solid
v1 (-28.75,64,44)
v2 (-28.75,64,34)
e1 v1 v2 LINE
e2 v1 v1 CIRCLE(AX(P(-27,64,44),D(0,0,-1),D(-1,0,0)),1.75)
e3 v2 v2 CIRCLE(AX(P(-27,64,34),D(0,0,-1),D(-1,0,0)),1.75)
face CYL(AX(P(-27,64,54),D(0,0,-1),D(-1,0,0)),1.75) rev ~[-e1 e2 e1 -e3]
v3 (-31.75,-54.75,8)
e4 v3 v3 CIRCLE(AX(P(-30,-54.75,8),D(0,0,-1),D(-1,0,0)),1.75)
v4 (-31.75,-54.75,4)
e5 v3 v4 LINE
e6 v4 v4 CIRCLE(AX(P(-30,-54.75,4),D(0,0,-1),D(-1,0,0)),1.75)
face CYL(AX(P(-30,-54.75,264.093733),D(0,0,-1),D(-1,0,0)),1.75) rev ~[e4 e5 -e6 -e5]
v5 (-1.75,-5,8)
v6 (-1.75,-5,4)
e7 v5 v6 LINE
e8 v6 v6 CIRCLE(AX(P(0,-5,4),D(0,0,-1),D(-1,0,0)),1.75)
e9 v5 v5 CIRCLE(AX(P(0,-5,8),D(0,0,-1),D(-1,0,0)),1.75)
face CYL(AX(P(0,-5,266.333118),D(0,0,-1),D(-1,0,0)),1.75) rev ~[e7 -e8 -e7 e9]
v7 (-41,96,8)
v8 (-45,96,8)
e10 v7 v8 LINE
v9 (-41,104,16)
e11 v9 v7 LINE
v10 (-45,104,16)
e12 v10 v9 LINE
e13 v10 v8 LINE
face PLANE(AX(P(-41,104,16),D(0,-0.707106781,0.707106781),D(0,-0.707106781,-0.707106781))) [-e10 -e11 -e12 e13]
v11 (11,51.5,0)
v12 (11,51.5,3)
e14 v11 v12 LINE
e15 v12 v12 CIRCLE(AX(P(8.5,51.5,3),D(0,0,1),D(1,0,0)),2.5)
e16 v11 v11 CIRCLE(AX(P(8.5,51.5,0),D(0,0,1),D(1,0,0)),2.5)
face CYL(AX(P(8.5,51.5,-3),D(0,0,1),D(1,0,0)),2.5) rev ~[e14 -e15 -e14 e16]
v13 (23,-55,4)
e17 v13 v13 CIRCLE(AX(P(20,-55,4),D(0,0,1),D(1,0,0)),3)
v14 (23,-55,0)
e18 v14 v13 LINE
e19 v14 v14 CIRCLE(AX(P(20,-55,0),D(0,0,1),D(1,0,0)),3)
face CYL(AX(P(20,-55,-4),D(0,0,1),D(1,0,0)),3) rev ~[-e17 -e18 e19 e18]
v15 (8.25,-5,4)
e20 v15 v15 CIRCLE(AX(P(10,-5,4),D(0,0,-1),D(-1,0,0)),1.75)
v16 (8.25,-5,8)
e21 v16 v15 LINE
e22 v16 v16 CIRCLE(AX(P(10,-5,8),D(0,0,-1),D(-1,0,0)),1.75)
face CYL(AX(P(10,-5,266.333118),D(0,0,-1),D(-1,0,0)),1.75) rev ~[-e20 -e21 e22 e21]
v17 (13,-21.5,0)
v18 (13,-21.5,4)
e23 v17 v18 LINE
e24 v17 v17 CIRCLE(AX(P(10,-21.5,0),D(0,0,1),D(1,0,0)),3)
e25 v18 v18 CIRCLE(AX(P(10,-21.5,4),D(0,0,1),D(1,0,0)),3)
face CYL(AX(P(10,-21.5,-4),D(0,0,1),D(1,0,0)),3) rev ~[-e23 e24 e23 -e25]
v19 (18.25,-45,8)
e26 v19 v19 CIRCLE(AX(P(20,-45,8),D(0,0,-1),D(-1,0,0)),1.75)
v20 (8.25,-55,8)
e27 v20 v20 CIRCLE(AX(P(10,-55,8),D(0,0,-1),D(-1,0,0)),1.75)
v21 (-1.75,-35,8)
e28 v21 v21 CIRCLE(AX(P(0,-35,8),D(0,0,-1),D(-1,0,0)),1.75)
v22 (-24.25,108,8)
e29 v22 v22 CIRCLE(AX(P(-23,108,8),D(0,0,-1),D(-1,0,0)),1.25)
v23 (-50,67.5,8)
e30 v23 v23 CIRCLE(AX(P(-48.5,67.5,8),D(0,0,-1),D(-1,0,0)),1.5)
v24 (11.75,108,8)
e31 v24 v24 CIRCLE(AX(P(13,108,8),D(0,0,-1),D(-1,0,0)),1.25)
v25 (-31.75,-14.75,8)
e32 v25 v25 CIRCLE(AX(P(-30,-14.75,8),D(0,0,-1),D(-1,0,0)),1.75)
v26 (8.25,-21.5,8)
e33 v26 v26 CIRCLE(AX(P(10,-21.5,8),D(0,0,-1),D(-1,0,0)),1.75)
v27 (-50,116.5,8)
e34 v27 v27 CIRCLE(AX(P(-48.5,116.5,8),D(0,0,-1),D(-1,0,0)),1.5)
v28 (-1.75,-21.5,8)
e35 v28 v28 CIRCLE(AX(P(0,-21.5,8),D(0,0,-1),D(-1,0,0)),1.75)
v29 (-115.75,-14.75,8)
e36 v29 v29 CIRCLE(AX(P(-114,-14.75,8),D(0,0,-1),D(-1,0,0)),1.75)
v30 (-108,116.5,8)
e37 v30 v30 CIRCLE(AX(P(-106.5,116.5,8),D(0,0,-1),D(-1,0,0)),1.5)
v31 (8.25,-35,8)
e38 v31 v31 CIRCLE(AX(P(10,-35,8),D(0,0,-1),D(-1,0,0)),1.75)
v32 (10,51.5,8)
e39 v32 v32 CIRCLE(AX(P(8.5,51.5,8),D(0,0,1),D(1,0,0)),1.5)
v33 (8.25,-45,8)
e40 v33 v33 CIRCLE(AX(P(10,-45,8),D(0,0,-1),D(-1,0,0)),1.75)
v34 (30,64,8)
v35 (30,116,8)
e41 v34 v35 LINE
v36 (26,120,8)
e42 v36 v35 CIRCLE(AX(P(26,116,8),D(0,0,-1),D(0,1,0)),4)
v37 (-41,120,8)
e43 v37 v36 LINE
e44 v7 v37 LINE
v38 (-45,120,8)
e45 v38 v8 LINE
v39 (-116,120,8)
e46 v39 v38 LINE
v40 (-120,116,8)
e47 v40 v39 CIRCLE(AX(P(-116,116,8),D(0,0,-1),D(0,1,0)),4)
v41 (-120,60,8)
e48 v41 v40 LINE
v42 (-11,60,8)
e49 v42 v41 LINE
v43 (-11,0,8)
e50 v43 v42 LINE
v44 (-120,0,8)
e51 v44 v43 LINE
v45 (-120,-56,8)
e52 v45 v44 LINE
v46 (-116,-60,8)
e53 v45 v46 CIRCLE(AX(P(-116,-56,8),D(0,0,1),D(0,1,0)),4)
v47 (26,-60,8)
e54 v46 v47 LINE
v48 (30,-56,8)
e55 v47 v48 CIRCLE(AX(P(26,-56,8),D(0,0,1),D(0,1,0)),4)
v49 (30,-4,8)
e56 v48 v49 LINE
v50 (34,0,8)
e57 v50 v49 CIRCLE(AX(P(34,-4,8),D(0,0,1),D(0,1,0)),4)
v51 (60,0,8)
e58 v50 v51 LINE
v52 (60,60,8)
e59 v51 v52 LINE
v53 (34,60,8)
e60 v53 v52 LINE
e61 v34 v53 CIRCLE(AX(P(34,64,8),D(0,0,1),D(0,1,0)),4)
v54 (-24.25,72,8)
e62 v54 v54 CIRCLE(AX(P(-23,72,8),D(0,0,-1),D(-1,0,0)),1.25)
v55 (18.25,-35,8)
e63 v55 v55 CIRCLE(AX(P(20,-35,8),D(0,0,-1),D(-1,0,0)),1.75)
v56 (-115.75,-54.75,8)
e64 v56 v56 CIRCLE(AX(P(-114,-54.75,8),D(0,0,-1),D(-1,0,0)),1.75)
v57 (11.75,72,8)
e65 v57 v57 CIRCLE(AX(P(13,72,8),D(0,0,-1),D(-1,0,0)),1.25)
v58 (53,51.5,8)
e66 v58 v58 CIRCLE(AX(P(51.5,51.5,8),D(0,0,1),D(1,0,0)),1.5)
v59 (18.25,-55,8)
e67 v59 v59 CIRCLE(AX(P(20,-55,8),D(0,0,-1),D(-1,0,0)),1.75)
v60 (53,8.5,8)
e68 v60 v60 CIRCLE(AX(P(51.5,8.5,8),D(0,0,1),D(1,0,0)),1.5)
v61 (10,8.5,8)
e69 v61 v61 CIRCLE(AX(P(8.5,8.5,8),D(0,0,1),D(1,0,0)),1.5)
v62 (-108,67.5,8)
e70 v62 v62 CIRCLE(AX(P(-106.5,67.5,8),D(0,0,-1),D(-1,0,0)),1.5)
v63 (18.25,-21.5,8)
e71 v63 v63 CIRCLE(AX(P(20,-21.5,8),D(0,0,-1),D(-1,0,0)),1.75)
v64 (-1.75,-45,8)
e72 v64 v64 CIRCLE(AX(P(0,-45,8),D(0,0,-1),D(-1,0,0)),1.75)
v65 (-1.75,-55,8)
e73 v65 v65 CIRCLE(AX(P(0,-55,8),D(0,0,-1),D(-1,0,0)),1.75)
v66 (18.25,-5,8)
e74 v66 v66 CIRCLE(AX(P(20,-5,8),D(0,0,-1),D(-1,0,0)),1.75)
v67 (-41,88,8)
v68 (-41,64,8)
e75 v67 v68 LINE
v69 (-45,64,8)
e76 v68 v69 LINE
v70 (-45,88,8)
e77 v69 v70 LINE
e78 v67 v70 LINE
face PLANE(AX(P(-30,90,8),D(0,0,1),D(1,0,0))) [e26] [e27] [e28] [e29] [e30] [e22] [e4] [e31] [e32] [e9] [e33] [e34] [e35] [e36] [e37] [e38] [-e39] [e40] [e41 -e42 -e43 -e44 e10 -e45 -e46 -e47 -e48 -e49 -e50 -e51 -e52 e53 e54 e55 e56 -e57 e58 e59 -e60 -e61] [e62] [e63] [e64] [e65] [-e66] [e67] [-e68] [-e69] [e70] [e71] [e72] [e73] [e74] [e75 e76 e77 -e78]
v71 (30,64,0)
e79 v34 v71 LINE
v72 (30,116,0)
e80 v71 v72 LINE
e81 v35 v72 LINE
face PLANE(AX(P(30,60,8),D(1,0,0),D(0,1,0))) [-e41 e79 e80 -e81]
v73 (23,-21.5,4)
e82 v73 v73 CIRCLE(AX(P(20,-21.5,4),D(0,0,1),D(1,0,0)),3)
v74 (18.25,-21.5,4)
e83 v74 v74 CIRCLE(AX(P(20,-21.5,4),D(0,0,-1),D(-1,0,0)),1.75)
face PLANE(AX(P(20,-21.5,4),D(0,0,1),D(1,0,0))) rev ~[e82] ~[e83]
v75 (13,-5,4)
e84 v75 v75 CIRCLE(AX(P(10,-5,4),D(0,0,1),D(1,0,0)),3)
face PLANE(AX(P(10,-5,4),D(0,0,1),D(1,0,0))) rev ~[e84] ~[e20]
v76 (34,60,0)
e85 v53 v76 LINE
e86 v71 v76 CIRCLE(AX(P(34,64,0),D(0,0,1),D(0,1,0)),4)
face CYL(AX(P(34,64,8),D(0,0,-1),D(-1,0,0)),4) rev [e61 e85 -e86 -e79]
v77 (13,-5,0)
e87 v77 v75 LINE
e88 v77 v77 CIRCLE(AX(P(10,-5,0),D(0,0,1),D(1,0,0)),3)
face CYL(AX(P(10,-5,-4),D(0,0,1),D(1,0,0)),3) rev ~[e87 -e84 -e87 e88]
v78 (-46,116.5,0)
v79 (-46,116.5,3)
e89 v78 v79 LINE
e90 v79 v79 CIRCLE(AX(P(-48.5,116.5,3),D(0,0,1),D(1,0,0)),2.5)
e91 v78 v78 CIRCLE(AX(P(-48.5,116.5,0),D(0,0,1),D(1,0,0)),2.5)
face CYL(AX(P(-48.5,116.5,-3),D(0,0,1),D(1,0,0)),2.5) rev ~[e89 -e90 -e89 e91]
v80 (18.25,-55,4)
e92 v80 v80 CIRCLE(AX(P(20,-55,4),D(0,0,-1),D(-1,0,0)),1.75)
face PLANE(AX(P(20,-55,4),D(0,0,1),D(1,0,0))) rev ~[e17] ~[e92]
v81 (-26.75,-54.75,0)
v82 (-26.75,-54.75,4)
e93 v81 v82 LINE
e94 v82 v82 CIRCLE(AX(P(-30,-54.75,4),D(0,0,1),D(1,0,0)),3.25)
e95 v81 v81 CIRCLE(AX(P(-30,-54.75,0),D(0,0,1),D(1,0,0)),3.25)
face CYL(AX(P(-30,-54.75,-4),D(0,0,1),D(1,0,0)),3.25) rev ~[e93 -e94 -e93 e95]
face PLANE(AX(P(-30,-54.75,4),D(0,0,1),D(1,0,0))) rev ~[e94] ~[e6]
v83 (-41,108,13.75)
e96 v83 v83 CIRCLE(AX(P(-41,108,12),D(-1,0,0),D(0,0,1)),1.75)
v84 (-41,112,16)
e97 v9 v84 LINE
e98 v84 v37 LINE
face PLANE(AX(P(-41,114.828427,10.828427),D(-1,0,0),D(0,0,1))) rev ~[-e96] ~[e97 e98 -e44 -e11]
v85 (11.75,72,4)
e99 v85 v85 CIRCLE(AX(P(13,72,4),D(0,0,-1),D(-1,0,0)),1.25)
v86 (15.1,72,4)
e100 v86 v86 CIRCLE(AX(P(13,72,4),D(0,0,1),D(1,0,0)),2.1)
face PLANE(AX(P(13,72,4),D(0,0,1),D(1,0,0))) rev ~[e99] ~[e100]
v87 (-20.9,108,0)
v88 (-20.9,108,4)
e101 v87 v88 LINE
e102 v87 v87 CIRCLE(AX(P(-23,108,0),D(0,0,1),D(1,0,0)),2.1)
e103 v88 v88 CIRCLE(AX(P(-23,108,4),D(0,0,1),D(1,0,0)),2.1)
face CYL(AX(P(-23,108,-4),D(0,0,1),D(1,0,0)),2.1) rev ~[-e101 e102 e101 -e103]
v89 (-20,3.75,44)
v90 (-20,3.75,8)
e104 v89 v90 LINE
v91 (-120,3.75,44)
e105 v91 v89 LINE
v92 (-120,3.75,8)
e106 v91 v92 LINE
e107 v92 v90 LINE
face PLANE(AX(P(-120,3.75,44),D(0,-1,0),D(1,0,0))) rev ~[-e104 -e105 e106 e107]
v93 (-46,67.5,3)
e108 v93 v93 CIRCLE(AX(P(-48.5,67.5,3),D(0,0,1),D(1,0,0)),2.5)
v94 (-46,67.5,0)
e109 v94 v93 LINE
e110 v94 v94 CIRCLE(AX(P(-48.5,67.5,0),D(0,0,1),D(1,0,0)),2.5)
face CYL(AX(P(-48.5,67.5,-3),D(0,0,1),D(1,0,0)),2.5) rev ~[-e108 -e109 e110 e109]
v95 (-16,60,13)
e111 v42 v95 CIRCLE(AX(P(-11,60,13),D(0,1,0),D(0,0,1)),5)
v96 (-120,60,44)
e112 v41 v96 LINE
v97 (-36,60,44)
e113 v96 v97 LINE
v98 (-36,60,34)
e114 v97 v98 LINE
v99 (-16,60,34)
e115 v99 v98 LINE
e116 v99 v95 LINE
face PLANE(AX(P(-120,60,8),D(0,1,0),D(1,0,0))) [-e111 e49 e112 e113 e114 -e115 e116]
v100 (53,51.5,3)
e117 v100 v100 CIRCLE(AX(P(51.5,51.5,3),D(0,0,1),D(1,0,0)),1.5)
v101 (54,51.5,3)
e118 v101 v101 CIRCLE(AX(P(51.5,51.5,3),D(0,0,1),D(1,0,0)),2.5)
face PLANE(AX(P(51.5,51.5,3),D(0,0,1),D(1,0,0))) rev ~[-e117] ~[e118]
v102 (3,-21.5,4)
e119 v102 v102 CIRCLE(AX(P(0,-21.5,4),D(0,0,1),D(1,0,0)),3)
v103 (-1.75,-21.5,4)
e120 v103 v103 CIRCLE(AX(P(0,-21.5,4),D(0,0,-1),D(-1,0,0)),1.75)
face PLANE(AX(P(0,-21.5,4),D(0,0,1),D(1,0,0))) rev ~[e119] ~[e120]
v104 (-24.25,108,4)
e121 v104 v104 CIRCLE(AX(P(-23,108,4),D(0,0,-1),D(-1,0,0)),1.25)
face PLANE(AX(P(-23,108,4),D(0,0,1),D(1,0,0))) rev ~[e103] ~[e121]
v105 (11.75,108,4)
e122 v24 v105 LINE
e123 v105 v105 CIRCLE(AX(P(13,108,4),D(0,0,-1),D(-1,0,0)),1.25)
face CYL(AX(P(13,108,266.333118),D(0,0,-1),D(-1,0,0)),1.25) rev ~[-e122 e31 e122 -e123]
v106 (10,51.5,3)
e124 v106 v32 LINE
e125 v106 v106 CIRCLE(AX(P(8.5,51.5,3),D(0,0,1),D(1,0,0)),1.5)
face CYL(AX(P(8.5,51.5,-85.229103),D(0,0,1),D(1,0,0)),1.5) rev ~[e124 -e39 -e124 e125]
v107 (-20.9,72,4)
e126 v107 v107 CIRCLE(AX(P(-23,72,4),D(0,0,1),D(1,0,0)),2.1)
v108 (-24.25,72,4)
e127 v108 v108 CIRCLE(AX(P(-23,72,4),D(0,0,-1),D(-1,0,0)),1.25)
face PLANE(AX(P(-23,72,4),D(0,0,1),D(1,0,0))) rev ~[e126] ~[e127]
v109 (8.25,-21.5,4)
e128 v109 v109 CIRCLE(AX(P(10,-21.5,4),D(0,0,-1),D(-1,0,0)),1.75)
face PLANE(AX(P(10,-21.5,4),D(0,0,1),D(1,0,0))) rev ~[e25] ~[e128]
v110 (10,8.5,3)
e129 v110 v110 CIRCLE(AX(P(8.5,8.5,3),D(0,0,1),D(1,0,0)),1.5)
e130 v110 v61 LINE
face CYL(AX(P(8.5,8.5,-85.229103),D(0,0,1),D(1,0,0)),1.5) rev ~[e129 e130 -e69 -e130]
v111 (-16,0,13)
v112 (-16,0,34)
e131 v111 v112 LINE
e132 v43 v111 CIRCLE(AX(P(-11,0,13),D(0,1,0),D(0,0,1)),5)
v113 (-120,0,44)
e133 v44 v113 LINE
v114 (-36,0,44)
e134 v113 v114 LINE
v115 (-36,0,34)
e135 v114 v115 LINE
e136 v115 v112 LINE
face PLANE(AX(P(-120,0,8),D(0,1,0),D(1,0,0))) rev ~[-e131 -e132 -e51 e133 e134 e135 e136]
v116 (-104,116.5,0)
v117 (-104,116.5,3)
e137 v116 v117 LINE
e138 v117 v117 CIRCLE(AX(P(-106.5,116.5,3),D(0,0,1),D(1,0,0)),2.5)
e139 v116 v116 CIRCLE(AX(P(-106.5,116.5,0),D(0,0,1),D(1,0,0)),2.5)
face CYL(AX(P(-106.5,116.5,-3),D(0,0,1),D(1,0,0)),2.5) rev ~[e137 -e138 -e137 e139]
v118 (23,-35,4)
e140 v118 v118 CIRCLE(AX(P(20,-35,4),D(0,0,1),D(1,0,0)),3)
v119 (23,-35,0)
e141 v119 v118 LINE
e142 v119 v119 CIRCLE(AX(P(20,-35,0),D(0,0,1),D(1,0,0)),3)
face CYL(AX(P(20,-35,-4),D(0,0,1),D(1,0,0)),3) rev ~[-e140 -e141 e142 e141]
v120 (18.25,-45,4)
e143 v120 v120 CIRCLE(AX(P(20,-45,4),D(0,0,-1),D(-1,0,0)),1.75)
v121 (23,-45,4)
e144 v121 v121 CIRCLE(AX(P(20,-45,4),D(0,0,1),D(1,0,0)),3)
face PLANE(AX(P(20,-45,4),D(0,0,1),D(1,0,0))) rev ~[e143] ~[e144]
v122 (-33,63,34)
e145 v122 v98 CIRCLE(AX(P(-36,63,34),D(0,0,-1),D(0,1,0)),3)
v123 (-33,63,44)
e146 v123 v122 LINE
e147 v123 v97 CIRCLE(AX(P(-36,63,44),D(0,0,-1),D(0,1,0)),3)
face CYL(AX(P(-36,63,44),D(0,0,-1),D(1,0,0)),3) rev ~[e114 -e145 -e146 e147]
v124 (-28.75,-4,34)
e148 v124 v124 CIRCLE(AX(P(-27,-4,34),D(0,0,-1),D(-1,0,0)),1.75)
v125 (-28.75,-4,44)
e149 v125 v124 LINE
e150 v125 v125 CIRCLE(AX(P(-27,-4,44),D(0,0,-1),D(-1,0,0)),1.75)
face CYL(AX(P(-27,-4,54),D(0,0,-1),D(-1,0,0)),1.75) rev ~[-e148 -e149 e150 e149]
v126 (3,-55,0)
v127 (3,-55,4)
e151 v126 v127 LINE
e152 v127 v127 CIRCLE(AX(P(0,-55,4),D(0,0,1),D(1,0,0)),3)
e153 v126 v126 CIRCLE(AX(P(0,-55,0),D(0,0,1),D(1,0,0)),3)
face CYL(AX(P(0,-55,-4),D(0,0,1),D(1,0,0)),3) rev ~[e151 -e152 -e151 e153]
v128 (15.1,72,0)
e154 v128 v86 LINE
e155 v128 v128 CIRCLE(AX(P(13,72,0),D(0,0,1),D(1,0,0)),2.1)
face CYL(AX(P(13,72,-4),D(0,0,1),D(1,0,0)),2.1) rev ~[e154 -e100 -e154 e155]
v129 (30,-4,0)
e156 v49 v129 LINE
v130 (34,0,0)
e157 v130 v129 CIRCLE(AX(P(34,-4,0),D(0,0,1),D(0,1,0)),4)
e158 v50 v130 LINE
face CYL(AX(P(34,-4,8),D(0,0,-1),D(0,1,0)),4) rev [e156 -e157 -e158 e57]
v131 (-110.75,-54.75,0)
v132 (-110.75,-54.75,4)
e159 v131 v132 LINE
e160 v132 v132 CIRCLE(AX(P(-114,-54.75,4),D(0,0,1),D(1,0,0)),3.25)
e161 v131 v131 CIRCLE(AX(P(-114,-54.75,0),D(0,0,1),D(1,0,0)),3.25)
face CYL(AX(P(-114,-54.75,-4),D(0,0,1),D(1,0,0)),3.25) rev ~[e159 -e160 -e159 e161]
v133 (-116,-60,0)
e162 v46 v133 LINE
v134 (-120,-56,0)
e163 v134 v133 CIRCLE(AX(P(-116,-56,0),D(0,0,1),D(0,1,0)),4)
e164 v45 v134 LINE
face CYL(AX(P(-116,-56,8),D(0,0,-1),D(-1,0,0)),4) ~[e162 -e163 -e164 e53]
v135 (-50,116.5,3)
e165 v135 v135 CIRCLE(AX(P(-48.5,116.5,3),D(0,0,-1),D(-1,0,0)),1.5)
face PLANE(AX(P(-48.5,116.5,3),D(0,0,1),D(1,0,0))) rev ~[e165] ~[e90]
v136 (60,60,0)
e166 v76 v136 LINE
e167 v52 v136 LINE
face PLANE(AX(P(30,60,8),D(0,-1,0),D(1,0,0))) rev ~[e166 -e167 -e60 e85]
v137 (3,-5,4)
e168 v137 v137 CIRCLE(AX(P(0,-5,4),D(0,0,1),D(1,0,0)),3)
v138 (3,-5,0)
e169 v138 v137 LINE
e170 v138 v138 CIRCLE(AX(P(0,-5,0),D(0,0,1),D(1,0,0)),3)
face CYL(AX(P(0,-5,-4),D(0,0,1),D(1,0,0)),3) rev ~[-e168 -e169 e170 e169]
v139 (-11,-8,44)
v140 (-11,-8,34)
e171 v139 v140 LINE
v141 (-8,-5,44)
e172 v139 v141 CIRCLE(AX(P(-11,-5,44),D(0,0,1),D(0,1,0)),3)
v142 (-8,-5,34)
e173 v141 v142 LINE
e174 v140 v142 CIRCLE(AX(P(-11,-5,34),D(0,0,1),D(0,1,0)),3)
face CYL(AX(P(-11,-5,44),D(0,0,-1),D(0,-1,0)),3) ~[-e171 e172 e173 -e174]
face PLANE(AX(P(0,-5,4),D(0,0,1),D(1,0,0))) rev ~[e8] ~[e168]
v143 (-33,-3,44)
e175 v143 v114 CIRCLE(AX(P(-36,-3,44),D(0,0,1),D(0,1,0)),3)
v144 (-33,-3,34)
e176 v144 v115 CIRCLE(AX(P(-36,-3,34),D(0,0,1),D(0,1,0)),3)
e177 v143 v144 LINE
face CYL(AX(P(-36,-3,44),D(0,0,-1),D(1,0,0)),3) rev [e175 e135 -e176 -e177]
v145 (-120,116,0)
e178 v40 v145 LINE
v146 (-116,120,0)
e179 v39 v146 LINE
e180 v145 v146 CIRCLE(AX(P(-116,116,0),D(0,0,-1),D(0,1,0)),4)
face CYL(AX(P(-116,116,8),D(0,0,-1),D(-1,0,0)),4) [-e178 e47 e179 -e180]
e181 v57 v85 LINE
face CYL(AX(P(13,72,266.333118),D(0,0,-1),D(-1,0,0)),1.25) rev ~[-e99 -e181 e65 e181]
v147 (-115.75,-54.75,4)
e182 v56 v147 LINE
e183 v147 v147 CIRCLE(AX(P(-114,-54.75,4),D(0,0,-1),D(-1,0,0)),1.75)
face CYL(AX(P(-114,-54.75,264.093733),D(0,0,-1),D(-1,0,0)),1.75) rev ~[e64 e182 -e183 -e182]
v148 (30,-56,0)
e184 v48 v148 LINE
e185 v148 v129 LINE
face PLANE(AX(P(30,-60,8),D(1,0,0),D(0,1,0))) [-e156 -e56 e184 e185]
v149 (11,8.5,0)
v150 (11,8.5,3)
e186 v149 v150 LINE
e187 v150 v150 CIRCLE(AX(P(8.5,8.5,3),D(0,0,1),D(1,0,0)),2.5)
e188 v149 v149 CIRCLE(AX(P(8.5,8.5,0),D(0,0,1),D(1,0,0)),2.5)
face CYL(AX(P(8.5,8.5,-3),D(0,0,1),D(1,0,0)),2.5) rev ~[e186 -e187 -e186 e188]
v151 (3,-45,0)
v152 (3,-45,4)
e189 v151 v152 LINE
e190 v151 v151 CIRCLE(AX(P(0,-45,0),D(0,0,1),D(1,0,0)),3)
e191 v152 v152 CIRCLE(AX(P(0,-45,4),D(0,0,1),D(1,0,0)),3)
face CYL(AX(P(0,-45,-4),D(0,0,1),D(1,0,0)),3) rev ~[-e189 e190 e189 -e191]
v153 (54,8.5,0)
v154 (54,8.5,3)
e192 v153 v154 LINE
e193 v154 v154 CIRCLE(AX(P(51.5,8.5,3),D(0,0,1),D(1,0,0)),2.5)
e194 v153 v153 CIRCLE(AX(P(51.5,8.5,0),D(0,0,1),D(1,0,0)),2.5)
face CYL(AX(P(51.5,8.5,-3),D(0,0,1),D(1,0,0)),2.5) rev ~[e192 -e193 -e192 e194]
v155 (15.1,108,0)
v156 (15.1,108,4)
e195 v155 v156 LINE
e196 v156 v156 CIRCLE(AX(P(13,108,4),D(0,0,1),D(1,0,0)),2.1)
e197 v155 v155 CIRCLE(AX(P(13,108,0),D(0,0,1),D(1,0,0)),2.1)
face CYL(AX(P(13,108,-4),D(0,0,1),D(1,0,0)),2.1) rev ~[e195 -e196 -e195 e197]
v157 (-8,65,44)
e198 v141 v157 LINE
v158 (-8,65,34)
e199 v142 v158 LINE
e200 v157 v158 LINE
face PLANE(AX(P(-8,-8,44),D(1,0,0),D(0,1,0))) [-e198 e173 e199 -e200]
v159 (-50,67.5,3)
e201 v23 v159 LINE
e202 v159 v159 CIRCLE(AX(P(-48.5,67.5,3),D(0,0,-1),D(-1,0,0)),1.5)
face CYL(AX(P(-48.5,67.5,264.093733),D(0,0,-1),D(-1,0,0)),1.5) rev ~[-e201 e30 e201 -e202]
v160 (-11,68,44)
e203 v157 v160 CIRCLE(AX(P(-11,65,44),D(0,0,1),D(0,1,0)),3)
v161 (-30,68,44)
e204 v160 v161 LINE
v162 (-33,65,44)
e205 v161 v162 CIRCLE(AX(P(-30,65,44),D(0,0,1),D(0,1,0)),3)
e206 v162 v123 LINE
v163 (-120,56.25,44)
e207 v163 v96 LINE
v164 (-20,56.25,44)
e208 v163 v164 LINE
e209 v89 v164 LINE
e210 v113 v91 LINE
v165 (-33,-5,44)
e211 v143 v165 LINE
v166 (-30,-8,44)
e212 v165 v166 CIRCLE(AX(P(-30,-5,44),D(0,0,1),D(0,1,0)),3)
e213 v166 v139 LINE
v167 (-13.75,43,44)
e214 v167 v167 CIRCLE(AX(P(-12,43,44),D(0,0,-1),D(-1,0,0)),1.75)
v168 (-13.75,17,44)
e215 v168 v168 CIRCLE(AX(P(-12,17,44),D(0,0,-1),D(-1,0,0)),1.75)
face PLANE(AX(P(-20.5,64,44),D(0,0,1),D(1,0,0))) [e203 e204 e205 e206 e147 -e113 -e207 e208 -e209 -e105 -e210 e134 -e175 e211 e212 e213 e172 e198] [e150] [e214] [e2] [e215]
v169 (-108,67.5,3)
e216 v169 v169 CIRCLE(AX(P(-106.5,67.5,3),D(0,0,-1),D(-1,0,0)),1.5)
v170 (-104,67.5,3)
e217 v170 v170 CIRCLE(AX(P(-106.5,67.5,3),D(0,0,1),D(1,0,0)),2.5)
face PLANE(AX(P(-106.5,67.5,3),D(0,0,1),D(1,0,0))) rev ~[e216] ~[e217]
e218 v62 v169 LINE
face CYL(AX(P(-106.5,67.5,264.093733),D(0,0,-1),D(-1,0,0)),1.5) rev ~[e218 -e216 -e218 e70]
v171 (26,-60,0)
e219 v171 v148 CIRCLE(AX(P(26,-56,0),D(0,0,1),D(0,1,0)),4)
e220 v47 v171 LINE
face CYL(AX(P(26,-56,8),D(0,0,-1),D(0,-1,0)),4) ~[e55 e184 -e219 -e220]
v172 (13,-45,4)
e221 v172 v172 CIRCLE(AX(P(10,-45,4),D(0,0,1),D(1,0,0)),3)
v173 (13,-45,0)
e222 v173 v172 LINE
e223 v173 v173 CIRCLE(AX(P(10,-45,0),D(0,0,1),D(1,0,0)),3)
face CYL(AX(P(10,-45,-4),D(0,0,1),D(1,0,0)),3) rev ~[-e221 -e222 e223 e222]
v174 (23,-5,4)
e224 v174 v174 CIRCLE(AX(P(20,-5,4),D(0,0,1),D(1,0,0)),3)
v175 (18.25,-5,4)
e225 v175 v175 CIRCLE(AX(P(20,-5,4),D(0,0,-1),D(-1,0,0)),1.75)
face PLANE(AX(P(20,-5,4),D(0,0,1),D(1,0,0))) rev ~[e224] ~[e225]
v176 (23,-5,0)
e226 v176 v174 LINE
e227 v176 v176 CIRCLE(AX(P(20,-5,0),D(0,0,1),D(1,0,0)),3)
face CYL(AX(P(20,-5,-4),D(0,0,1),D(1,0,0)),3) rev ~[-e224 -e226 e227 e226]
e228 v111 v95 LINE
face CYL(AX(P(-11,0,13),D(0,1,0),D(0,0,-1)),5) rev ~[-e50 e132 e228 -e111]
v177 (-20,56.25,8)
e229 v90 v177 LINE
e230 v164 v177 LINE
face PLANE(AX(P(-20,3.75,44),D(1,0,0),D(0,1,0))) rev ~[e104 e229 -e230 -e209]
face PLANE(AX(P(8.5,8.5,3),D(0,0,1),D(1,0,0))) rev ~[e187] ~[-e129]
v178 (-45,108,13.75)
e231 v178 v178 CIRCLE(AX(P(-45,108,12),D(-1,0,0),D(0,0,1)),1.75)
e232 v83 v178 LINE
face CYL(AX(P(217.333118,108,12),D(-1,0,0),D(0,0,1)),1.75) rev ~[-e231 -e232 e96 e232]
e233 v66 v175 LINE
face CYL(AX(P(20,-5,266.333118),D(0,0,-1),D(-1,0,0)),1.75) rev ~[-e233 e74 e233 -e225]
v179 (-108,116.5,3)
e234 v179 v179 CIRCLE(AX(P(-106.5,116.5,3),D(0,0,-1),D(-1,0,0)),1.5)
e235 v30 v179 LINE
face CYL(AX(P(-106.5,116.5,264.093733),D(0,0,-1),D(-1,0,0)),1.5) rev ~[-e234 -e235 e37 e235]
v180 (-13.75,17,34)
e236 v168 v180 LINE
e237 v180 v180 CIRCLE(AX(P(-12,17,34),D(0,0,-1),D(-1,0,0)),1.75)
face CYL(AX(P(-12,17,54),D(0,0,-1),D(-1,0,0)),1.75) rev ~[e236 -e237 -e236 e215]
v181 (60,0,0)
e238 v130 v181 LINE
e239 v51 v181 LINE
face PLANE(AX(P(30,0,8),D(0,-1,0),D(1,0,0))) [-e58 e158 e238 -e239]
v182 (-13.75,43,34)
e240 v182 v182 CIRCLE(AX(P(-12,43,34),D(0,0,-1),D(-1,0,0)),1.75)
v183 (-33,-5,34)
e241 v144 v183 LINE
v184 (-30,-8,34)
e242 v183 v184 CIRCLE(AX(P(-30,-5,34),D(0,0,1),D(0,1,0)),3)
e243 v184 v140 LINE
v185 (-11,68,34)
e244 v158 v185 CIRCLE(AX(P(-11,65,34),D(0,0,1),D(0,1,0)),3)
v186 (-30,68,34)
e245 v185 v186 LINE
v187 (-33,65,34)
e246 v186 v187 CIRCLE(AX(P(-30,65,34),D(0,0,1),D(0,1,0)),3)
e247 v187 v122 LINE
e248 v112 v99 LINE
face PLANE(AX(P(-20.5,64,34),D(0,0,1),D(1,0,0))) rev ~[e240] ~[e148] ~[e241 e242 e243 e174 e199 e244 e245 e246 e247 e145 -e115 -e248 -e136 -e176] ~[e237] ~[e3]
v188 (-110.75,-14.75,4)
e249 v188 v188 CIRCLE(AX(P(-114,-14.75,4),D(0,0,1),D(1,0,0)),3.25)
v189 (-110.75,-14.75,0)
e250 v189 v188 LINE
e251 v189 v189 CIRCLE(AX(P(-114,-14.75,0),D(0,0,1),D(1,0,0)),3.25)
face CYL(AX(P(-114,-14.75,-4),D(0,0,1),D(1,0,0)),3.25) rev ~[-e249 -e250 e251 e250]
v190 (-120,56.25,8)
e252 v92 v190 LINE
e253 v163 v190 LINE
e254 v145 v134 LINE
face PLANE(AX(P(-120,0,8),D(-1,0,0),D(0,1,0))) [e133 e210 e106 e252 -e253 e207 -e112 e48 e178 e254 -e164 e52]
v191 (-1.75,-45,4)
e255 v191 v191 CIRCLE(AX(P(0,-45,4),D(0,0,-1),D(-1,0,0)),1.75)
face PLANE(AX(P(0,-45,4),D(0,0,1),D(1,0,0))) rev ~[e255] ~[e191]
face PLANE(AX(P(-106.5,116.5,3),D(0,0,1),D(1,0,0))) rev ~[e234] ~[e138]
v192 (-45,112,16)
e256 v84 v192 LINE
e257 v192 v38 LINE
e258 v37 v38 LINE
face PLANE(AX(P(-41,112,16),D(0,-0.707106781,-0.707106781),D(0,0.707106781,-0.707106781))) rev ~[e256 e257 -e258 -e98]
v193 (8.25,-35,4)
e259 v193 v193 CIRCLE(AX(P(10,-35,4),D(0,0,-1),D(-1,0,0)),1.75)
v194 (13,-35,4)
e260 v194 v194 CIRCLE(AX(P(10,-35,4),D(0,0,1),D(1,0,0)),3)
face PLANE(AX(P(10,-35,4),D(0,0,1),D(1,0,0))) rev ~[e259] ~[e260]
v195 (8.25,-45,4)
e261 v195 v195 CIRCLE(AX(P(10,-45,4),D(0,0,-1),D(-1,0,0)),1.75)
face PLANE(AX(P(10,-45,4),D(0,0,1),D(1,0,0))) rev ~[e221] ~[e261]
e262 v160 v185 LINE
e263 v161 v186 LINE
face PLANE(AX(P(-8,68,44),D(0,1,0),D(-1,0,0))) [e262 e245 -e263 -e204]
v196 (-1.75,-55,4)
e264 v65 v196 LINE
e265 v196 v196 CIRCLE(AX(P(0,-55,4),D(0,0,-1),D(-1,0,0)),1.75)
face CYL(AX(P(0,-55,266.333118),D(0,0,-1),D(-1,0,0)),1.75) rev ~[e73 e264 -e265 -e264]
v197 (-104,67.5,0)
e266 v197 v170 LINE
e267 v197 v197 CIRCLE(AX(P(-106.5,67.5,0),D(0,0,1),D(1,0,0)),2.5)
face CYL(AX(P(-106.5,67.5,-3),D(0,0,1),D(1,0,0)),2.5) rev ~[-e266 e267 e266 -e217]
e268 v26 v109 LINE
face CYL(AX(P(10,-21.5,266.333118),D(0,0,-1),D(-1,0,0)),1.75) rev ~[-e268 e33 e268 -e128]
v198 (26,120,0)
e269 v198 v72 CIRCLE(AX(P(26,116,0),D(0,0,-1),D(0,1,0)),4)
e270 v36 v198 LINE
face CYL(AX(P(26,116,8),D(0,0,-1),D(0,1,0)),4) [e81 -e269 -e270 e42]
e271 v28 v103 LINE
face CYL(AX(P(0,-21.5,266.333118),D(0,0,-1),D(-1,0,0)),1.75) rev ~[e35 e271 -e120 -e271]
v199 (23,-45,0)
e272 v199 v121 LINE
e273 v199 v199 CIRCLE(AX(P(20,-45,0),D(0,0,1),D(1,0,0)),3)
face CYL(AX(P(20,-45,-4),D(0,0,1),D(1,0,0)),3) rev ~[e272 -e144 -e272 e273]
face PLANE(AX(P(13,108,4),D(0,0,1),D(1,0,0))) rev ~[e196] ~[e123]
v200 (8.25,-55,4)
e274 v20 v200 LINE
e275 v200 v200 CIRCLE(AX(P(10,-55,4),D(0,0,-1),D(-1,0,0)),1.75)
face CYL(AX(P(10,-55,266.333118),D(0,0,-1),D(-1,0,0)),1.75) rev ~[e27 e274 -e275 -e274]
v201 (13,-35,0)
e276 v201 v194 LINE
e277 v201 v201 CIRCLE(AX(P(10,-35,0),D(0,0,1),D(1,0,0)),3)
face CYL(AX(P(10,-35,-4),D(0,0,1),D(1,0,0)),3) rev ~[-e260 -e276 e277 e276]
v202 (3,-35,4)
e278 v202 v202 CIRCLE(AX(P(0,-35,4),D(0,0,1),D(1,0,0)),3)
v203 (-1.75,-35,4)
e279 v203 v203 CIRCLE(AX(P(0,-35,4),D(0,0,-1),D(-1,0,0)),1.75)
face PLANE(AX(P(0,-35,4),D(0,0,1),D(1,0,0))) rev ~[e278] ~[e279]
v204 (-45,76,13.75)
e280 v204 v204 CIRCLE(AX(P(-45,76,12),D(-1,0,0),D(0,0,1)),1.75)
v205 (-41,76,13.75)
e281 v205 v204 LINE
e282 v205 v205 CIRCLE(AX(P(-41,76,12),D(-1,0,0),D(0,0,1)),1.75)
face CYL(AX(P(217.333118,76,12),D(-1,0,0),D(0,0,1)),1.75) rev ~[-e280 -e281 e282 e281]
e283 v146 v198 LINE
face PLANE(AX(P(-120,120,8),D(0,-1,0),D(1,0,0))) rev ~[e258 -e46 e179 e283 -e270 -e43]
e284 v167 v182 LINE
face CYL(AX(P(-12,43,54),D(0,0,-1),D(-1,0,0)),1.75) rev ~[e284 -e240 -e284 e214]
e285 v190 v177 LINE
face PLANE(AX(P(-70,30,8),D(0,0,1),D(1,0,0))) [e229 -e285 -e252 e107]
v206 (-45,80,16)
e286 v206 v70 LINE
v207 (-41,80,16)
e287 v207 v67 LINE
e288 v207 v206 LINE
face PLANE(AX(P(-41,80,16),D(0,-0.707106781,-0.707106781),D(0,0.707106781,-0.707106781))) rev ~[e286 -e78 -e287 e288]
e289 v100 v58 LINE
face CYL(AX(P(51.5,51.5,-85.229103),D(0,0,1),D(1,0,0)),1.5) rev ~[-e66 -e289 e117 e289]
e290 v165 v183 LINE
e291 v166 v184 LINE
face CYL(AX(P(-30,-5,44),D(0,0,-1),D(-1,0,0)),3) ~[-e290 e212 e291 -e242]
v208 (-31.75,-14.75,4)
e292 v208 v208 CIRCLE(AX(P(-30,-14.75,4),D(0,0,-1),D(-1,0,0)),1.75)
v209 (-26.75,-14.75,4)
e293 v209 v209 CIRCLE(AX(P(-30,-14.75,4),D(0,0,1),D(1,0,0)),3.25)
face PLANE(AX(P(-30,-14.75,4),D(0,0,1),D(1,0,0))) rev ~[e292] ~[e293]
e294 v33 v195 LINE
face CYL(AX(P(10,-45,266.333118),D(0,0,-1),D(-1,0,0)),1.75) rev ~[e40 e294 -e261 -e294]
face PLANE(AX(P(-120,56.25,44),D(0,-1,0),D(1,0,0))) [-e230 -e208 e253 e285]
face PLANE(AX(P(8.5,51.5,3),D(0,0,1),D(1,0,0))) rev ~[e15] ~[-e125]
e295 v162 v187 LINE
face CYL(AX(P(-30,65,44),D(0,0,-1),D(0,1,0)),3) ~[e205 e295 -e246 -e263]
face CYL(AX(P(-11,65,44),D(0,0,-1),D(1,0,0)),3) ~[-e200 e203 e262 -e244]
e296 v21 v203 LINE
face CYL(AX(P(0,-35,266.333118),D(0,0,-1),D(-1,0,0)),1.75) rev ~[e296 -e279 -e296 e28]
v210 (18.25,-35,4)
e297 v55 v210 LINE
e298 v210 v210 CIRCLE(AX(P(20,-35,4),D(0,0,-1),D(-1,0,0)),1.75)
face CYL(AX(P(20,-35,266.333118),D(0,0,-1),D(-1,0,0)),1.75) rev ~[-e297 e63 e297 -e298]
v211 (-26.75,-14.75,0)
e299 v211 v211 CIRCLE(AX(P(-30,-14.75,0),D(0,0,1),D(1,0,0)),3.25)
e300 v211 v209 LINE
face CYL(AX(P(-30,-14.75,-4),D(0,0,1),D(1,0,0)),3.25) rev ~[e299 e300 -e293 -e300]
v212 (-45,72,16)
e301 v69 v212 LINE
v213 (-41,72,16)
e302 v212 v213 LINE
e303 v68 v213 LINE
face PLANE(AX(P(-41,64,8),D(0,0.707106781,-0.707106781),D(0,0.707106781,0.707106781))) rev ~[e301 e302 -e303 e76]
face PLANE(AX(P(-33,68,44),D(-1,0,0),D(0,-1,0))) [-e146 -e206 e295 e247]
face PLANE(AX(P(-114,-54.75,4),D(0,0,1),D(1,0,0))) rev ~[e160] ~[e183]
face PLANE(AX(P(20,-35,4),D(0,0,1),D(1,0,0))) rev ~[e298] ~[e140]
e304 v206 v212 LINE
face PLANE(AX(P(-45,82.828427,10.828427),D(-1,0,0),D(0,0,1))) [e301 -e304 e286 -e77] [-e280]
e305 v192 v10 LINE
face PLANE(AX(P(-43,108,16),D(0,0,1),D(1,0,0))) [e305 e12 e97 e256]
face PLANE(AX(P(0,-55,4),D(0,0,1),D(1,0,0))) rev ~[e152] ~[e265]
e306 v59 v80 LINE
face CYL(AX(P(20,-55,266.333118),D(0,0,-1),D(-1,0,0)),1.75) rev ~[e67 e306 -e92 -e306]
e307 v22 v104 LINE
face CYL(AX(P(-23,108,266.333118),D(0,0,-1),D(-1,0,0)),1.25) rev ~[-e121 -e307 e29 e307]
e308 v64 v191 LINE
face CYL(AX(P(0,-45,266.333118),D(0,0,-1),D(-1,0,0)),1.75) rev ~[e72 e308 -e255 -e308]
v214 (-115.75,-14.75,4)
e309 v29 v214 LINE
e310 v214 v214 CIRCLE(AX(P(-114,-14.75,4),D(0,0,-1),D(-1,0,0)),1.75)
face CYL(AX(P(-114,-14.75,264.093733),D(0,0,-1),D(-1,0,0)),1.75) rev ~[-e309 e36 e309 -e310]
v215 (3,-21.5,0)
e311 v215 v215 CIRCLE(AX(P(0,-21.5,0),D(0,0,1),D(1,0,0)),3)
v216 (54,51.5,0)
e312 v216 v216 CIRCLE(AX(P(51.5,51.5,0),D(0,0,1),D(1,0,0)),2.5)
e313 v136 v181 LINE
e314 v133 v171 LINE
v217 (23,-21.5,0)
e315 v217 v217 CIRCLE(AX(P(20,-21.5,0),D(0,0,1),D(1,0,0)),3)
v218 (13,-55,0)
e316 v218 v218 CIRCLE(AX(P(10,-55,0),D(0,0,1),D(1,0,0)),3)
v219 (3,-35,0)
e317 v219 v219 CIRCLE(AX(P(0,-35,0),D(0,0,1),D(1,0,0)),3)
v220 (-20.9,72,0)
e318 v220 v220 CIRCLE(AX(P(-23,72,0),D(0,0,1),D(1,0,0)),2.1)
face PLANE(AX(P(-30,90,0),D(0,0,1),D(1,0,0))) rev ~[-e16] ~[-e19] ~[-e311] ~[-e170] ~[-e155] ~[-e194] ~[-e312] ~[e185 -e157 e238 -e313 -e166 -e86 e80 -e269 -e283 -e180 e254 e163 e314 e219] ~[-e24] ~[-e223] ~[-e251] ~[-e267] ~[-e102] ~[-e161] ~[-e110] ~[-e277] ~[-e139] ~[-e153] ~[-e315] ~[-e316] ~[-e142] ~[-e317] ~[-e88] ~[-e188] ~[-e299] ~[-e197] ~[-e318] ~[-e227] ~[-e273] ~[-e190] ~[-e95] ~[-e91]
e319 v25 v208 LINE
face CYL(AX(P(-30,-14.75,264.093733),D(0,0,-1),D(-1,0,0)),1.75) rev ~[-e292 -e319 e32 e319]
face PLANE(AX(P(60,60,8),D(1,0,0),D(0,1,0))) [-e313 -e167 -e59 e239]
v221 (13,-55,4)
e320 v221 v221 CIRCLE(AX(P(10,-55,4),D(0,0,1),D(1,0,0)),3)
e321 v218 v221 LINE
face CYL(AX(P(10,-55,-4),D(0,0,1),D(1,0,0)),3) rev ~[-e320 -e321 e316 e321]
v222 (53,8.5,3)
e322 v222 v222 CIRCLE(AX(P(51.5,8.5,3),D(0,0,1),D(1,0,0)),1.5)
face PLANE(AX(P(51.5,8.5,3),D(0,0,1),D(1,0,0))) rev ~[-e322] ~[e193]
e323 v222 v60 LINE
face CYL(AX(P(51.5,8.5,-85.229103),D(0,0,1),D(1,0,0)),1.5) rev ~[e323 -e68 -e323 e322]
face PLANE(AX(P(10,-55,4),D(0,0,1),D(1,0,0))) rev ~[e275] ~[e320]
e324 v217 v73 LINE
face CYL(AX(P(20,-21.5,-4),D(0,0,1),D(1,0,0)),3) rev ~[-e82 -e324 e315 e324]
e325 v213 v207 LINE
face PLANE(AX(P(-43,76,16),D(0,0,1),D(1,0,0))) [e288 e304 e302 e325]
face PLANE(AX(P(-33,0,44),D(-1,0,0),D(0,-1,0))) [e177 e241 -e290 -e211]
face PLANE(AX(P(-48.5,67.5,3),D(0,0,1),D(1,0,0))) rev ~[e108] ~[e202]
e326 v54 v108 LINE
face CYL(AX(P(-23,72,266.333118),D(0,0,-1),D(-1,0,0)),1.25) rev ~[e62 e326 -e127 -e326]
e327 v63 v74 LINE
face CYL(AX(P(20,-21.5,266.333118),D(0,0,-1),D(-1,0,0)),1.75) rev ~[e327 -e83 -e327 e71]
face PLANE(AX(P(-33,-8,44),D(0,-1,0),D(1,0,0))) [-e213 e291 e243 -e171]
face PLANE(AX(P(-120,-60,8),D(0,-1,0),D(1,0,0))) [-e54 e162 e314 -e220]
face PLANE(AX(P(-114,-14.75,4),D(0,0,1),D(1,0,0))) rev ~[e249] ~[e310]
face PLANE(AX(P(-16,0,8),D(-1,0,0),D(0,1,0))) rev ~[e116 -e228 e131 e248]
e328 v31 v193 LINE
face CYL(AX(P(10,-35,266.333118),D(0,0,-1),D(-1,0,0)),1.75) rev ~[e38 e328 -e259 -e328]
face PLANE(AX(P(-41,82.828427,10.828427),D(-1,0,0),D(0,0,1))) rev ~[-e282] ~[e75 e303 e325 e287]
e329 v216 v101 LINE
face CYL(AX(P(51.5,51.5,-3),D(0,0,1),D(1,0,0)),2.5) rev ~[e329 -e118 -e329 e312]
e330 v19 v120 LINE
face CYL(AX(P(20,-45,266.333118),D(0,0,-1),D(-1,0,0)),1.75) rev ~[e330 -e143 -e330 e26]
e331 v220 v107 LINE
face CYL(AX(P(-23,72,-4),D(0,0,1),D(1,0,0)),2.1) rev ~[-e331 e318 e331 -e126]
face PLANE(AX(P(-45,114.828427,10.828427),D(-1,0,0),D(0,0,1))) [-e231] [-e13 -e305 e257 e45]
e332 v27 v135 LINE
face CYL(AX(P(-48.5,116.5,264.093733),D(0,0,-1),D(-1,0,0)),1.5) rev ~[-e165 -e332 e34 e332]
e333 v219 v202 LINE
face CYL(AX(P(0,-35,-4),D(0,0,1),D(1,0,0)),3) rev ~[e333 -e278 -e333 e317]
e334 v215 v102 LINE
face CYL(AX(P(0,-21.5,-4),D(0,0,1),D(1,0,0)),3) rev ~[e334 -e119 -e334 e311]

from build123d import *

# Parameters (mm, degrees)
SKETCH_1_W             = 60
SKETCH_1_H             = 60
EXTRUDE_1_DEPTH        = 8
HOLE_WIZARD_1_D        = 3
HOLE_WIZARD_2_D        = 5
HOLE_WIZARD_2_DEPTH    = 3
SKETCH_9_W             = 25
SKETCH_9_H             = 60
EXTRUDE_2_DEPTH        = 8
SKETCH_10_W            = 4
SKETCH_10_H            = 60
EXTRUDE_3_DEPTH        = 20
FILLET_1_R             = 5
SKETCH_11_W            = 100
SKETCH_11_H            = 60
EXTRUDE_4_DEPTH        = 8
SKETCH_17_W            = 180
SKETCH_17_H            = 60
EXTRUDE_5_DEPTH        = 8
HOLE_WIZARD_3_D        = 3
HOLE_WIZARD_4_D        = 5
HOLE_WIZARD_4_DEPTH    = 3
HOLE_WIZARD_5_D        = 3.5
HOLE_WIZARD_6_D        = 6.5
HOLE_WIZARD_6_DEPTH    = 4
SKETCH_25_W            = 104
SKETCH_25_H            = 60
EXTRUDE_7_DEPTH        = 36
SKETCH_26_W            = 100
SKETCH_26_H            = 52.5
CUT_EXTRUDE_1_DEPTH    = 36
SKETCH_27_W            = 8
SKETCH_27_H            = 60
EXTRUDE_8_DEPTH        = 10
HOLE_WIZARD_7_D        = 3.5
HOLE_WIZARD_7_DEPTH    = 10
FILLET_2_R             = 3
HOLE_WIZARD_8_D        = 2.5
HOLE_WIZARD_9_D        = 4.2
HOLE_WIZARD_9_DEPTH    = 4
SKETCH_37_W            = 30
SKETCH_37_H            = 60
CUT_EXTRUDE_2_DEPTH    = 174.481987538
FILLET_3_R             = 4
HOLE_WIZARD_10_D       = 3.5
PATTERN_LINEAR_1_COUNT = 6
PATTERN_LINEAR_1_PITCH = 10
HOLE_WIZARD_11_D       = 6
HOLE_WIZARD_11_DEPTH   = 4
PATTERN_LINEAR_2_COUNT = 6
PATTERN_LINEAR_2_PITCH = 10
HOLE_WIZARD_12_D       = 3.5
HOLE_WIZARD_13_D       = 6
HOLE_WIZARD_13_DEPTH   = 4
EXTRUDE_9_DEPTH        = 8
EXTRUDE_10_DEPTH       = 4
HOLE_WIZARD_14_D       = 3.5


with BuildPart() as part:
    # 草图1 → 凸台-拉伸1 (new body)
    with BuildSketch(Plane.XY):
        with Locations((30, 30)):
            Rectangle(SKETCH_1_W, SKETCH_1_H)
    extrude(amount=EXTRUDE_1_DEPTH)

    # 孔1 (through all)
    with Locations(Plane(origin=(0, 0, 0), x_dir=(-1, 0, 0), z_dir=(0, 0, -1))):
        with Locations((-51.5, 51.5), (-8.5, 51.5), (-8.5, 8.5), (-51.5, 8.5)):
            Hole(HOLE_WIZARD_1_D / 2)

    # 孔2
    with Locations(Plane(origin=(0, 0, 0), x_dir=(-1, 0, 0), z_dir=(0, 0, -1))):
        with Locations((-51.5, 51.5), (-8.5, 51.5), (-8.5, 8.5), (-51.5, 8.5)):
            Hole(HOLE_WIZARD_2_D / 2, depth=HOLE_WIZARD_2_DEPTH)

    # 草图9 → 凸台-拉伸2 (add)
    with BuildSketch(Plane.XY.offset(8)):
        with Locations((-12.5, 30)):
            Rectangle(SKETCH_9_W, SKETCH_9_H)
    extrude(amount=-EXTRUDE_2_DEPTH)

    # 草图10 → 凸台-拉伸3 (add)
    with BuildSketch(Plane.XY.offset(8)):
        with Locations((-18, 30)):
            Rectangle(SKETCH_10_W, SKETCH_10_H)
    extrude(amount=EXTRUDE_3_DEPTH)

    # 圆角1
    fillet_1_edges = [part.edges().sort_by_distance(p)[0] for p in [
        (-16, 30, 8),
    ]]
    fillet(fillet_1_edges, radius=FILLET_1_R)

    # 草图11 → 凸台-拉伸4 (add)
    with BuildSketch(Plane.XY.offset(8)):
        with Locations((-70, 30)):
            Rectangle(SKETCH_11_W, SKETCH_11_H)
    extrude(amount=-EXTRUDE_4_DEPTH)

    # 草图17 → 凸台-拉伸5 (add)
    with BuildSketch(Plane.XY.offset(8)):
        with Locations((-30, 90)):
            Rectangle(SKETCH_17_W, SKETCH_17_H)
        with Locations((-30, -30)):
            Rectangle(SKETCH_17_W, SKETCH_17_H)
    extrude(amount=-EXTRUDE_5_DEPTH)

    # 孔3 (through all)
    with Locations(Plane.XY.offset(8)):
        with Locations((-106.5, 116.5), (-48.5, 116.5), (-48.5, 67.5), (-106.5, 67.5)):
            Hole(HOLE_WIZARD_3_D / 2)

    # 孔4
    with Locations(Plane(origin=(0, 0, 0), x_dir=(-1, 0, 0), z_dir=(0, 0, -1))):
        with Locations((48.5, 116.5), (106.5, 116.5), (106.5, 67.5), (48.5, 67.5)):
            Hole(HOLE_WIZARD_4_D / 2, depth=HOLE_WIZARD_4_DEPTH)

    # 孔5 (through all)
    with Locations(Plane.XY.offset(8)):
        with Locations((-114, -14.75), (-30, -14.75), (-30, -54.75), (-114, -54.75)):
            Hole(HOLE_WIZARD_5_D / 2)

    # 孔6
    with Locations(Plane(origin=(0, 0, 0), x_dir=(-1, 0, 0), z_dir=(0, 0, -1))):
        with Locations((30, -14.75), (114, -14.75), (114, -54.75), (30, -54.75)):
            Hole(HOLE_WIZARD_6_D / 2, depth=HOLE_WIZARD_6_DEPTH)

    # 草图25 → 凸台-拉伸7 (add)
    with BuildSketch(Plane.XY.offset(8)):
        with Locations((-68, 30)):
            Rectangle(SKETCH_25_W, SKETCH_25_H)
    extrude(amount=EXTRUDE_7_DEPTH)

    # 草图26 → 切除-拉伸1 (cut)
    with BuildSketch(Plane.XY.offset(44)):
        with Locations((-70, 30)):
            Rectangle(SKETCH_26_W, SKETCH_26_H)
    extrude(amount=-CUT_EXTRUDE_1_DEPTH, mode=Mode.SUBTRACT)

    # 草图27 → 凸台-拉伸8 (add)
    with BuildSketch(Plane.XY.offset(44)):
        Polygon((-33, 60), (-16, 60), (-8, 60), (-8, 68), (-33, 68), align=None)
        with Locations((-12, 30)):
            Rectangle(SKETCH_27_W, SKETCH_27_H)
        Polygon((-8, 0), (-16, 0), (-33, 0), (-33, -8), (-8, -8), align=None)
    extrude(amount=-EXTRUDE_8_DEPTH)

    # 孔7
    with Locations(Plane.XY.offset(44)):
        with Locations((-27, 64), (-12, 43), (-12, 17), (-27, -4)):
            Hole(HOLE_WIZARD_7_D / 2, depth=HOLE_WIZARD_7_DEPTH)

    # 圆角2
    fillet_2_edges = [part.edges().sort_by_distance(p)[0] for p in [
        (-33, 60, 39),
        (-33, 68, 39),
        (-8, 68, 39),
        (-8, -8, 39),
        (-33, -8, 39),
        (-33, 0, 39),
    ]]
    fillet(fillet_2_edges, radius=FILLET_2_R)

    # 孔8 (through all)
    with Locations(Plane.XY.offset(8)):
        with Locations((13, 108), (13, 72), (-23, 72), (-23, 108)):
            Hole(HOLE_WIZARD_8_D / 2)

    # 孔9
    with Locations(Plane(origin=(0, 0, 0), x_dir=(-1, 0, 0), z_dir=(0, 0, -1))):
        with Locations((-13, 108), (23, 108), (23, 72), (-13, 72)):
            Hole(HOLE_WIZARD_9_D / 2, depth=HOLE_WIZARD_9_DEPTH)

    # 草图37 → 切除-拉伸2 (cut, through all)
    with BuildSketch(Plane.XY.offset(8)):
        with Locations((45, 90)):
            Rectangle(SKETCH_37_W, SKETCH_37_H)
        with Locations((45, -30)):
            Rectangle(SKETCH_37_W, SKETCH_37_H)
    extrude(amount=-CUT_EXTRUDE_2_DEPTH, mode=Mode.SUBTRACT)

    # 圆角3
    fillet_3_edges = [part.edges().sort_by_distance(p)[0] for p in [
        (-120, 120, 4),
        (-120, -60, 4),
        (30, 60, 4),
        (30, 120, 4),
        (30, -60, 4),
        (30, 0, 4),
    ]]
    fillet(fillet_3_edges, radius=FILLET_3_R)

    # 孔10 (through all)
    with Locations(Plane.XY.offset(8)):
        with Locations((0, -55), (10, -55), (20, -55)):
            hole_wizard_10 = Hole(HOLE_WIZARD_10_D / 2)

    # 阵列(线性)1: 孔10 ×6, 2 skipped
    with Locations(*[(0, i * PATTERN_LINEAR_1_PITCH, 0) for i in range(1, PATTERN_LINEAR_1_COUNT) if i not in (3, 4)]):
        add(hole_wizard_10, mode=Mode.SUBTRACT)

    # 孔11
    with Locations(Plane(origin=(0, 0, 0), x_dir=(-1, 0, 0), z_dir=(0, 0, -1))):
        with Locations((0, -55), (-10, -55), (-20, -55)):
            hole_wizard_11 = Hole(HOLE_WIZARD_11_D / 2, depth=HOLE_WIZARD_11_DEPTH)

    # 阵列(线性)2: 孔11 ×6, 2 skipped
    with Locations(*[(0, i * PATTERN_LINEAR_2_PITCH, 0) for i in range(1, PATTERN_LINEAR_2_COUNT) if i not in (3, 4)]):
        add(hole_wizard_11, mode=Mode.SUBTRACT)

    # 孔12 (through all)
    with Locations(Plane.XY.offset(8)):
        with Locations((0, -21.5), (10, -21.5), (20, -21.5)):
            Hole(HOLE_WIZARD_12_D / 2)

    # 孔13
    with Locations(Plane(origin=(0, 0, 0), x_dir=(-1, 0, 0), z_dir=(0, 0, -1))):
        with Locations((-20, -21.5), (-10, -21.5), (0, -21.5)):
            Hole(HOLE_WIZARD_13_D / 2, depth=HOLE_WIZARD_13_DEPTH)

    # 草图48 → 凸台-拉伸9 (add)
    with BuildSketch(Plane.XY.offset(8)):
        Polygon((-45, 108), (-45, 104), (-41, 104), (-41, 112), (-45, 112), align=None)
        Polygon((-41, 80), (-45, 80), (-45, 76), (-45, 72), (-41, 72), align=None)
    extrude(amount=EXTRUDE_9_DEPTH)

    # 草图49 → 凸台-拉伸10 (add)
    with BuildSketch(Plane(origin=(-41, 0, 0), x_dir=(0, 0, -1), z_dir=(1, 0, 0))):
        Polygon((-16, 112), (-8, 120), (-8, 112), align=None)
        Polygon((-16, 104), (-8, 96), (-8, 104), align=None)
        Polygon((-16, 80), (-8, 88), (-8, 80), align=None)
        Polygon((-16, 72), (-8, 72), (-8, 64), align=None)
    extrude(amount=-EXTRUDE_10_DEPTH)

    # 孔14 (through all)
    with Locations(Plane(origin=(-41, 0, 0), x_dir=(0, 0, -1), z_dir=(1, 0, 0))):
        with Locations((-12, 108), (-12, 76)):
            Hole(HOLE_WIZARD_14_D / 2)


solid = part.part
